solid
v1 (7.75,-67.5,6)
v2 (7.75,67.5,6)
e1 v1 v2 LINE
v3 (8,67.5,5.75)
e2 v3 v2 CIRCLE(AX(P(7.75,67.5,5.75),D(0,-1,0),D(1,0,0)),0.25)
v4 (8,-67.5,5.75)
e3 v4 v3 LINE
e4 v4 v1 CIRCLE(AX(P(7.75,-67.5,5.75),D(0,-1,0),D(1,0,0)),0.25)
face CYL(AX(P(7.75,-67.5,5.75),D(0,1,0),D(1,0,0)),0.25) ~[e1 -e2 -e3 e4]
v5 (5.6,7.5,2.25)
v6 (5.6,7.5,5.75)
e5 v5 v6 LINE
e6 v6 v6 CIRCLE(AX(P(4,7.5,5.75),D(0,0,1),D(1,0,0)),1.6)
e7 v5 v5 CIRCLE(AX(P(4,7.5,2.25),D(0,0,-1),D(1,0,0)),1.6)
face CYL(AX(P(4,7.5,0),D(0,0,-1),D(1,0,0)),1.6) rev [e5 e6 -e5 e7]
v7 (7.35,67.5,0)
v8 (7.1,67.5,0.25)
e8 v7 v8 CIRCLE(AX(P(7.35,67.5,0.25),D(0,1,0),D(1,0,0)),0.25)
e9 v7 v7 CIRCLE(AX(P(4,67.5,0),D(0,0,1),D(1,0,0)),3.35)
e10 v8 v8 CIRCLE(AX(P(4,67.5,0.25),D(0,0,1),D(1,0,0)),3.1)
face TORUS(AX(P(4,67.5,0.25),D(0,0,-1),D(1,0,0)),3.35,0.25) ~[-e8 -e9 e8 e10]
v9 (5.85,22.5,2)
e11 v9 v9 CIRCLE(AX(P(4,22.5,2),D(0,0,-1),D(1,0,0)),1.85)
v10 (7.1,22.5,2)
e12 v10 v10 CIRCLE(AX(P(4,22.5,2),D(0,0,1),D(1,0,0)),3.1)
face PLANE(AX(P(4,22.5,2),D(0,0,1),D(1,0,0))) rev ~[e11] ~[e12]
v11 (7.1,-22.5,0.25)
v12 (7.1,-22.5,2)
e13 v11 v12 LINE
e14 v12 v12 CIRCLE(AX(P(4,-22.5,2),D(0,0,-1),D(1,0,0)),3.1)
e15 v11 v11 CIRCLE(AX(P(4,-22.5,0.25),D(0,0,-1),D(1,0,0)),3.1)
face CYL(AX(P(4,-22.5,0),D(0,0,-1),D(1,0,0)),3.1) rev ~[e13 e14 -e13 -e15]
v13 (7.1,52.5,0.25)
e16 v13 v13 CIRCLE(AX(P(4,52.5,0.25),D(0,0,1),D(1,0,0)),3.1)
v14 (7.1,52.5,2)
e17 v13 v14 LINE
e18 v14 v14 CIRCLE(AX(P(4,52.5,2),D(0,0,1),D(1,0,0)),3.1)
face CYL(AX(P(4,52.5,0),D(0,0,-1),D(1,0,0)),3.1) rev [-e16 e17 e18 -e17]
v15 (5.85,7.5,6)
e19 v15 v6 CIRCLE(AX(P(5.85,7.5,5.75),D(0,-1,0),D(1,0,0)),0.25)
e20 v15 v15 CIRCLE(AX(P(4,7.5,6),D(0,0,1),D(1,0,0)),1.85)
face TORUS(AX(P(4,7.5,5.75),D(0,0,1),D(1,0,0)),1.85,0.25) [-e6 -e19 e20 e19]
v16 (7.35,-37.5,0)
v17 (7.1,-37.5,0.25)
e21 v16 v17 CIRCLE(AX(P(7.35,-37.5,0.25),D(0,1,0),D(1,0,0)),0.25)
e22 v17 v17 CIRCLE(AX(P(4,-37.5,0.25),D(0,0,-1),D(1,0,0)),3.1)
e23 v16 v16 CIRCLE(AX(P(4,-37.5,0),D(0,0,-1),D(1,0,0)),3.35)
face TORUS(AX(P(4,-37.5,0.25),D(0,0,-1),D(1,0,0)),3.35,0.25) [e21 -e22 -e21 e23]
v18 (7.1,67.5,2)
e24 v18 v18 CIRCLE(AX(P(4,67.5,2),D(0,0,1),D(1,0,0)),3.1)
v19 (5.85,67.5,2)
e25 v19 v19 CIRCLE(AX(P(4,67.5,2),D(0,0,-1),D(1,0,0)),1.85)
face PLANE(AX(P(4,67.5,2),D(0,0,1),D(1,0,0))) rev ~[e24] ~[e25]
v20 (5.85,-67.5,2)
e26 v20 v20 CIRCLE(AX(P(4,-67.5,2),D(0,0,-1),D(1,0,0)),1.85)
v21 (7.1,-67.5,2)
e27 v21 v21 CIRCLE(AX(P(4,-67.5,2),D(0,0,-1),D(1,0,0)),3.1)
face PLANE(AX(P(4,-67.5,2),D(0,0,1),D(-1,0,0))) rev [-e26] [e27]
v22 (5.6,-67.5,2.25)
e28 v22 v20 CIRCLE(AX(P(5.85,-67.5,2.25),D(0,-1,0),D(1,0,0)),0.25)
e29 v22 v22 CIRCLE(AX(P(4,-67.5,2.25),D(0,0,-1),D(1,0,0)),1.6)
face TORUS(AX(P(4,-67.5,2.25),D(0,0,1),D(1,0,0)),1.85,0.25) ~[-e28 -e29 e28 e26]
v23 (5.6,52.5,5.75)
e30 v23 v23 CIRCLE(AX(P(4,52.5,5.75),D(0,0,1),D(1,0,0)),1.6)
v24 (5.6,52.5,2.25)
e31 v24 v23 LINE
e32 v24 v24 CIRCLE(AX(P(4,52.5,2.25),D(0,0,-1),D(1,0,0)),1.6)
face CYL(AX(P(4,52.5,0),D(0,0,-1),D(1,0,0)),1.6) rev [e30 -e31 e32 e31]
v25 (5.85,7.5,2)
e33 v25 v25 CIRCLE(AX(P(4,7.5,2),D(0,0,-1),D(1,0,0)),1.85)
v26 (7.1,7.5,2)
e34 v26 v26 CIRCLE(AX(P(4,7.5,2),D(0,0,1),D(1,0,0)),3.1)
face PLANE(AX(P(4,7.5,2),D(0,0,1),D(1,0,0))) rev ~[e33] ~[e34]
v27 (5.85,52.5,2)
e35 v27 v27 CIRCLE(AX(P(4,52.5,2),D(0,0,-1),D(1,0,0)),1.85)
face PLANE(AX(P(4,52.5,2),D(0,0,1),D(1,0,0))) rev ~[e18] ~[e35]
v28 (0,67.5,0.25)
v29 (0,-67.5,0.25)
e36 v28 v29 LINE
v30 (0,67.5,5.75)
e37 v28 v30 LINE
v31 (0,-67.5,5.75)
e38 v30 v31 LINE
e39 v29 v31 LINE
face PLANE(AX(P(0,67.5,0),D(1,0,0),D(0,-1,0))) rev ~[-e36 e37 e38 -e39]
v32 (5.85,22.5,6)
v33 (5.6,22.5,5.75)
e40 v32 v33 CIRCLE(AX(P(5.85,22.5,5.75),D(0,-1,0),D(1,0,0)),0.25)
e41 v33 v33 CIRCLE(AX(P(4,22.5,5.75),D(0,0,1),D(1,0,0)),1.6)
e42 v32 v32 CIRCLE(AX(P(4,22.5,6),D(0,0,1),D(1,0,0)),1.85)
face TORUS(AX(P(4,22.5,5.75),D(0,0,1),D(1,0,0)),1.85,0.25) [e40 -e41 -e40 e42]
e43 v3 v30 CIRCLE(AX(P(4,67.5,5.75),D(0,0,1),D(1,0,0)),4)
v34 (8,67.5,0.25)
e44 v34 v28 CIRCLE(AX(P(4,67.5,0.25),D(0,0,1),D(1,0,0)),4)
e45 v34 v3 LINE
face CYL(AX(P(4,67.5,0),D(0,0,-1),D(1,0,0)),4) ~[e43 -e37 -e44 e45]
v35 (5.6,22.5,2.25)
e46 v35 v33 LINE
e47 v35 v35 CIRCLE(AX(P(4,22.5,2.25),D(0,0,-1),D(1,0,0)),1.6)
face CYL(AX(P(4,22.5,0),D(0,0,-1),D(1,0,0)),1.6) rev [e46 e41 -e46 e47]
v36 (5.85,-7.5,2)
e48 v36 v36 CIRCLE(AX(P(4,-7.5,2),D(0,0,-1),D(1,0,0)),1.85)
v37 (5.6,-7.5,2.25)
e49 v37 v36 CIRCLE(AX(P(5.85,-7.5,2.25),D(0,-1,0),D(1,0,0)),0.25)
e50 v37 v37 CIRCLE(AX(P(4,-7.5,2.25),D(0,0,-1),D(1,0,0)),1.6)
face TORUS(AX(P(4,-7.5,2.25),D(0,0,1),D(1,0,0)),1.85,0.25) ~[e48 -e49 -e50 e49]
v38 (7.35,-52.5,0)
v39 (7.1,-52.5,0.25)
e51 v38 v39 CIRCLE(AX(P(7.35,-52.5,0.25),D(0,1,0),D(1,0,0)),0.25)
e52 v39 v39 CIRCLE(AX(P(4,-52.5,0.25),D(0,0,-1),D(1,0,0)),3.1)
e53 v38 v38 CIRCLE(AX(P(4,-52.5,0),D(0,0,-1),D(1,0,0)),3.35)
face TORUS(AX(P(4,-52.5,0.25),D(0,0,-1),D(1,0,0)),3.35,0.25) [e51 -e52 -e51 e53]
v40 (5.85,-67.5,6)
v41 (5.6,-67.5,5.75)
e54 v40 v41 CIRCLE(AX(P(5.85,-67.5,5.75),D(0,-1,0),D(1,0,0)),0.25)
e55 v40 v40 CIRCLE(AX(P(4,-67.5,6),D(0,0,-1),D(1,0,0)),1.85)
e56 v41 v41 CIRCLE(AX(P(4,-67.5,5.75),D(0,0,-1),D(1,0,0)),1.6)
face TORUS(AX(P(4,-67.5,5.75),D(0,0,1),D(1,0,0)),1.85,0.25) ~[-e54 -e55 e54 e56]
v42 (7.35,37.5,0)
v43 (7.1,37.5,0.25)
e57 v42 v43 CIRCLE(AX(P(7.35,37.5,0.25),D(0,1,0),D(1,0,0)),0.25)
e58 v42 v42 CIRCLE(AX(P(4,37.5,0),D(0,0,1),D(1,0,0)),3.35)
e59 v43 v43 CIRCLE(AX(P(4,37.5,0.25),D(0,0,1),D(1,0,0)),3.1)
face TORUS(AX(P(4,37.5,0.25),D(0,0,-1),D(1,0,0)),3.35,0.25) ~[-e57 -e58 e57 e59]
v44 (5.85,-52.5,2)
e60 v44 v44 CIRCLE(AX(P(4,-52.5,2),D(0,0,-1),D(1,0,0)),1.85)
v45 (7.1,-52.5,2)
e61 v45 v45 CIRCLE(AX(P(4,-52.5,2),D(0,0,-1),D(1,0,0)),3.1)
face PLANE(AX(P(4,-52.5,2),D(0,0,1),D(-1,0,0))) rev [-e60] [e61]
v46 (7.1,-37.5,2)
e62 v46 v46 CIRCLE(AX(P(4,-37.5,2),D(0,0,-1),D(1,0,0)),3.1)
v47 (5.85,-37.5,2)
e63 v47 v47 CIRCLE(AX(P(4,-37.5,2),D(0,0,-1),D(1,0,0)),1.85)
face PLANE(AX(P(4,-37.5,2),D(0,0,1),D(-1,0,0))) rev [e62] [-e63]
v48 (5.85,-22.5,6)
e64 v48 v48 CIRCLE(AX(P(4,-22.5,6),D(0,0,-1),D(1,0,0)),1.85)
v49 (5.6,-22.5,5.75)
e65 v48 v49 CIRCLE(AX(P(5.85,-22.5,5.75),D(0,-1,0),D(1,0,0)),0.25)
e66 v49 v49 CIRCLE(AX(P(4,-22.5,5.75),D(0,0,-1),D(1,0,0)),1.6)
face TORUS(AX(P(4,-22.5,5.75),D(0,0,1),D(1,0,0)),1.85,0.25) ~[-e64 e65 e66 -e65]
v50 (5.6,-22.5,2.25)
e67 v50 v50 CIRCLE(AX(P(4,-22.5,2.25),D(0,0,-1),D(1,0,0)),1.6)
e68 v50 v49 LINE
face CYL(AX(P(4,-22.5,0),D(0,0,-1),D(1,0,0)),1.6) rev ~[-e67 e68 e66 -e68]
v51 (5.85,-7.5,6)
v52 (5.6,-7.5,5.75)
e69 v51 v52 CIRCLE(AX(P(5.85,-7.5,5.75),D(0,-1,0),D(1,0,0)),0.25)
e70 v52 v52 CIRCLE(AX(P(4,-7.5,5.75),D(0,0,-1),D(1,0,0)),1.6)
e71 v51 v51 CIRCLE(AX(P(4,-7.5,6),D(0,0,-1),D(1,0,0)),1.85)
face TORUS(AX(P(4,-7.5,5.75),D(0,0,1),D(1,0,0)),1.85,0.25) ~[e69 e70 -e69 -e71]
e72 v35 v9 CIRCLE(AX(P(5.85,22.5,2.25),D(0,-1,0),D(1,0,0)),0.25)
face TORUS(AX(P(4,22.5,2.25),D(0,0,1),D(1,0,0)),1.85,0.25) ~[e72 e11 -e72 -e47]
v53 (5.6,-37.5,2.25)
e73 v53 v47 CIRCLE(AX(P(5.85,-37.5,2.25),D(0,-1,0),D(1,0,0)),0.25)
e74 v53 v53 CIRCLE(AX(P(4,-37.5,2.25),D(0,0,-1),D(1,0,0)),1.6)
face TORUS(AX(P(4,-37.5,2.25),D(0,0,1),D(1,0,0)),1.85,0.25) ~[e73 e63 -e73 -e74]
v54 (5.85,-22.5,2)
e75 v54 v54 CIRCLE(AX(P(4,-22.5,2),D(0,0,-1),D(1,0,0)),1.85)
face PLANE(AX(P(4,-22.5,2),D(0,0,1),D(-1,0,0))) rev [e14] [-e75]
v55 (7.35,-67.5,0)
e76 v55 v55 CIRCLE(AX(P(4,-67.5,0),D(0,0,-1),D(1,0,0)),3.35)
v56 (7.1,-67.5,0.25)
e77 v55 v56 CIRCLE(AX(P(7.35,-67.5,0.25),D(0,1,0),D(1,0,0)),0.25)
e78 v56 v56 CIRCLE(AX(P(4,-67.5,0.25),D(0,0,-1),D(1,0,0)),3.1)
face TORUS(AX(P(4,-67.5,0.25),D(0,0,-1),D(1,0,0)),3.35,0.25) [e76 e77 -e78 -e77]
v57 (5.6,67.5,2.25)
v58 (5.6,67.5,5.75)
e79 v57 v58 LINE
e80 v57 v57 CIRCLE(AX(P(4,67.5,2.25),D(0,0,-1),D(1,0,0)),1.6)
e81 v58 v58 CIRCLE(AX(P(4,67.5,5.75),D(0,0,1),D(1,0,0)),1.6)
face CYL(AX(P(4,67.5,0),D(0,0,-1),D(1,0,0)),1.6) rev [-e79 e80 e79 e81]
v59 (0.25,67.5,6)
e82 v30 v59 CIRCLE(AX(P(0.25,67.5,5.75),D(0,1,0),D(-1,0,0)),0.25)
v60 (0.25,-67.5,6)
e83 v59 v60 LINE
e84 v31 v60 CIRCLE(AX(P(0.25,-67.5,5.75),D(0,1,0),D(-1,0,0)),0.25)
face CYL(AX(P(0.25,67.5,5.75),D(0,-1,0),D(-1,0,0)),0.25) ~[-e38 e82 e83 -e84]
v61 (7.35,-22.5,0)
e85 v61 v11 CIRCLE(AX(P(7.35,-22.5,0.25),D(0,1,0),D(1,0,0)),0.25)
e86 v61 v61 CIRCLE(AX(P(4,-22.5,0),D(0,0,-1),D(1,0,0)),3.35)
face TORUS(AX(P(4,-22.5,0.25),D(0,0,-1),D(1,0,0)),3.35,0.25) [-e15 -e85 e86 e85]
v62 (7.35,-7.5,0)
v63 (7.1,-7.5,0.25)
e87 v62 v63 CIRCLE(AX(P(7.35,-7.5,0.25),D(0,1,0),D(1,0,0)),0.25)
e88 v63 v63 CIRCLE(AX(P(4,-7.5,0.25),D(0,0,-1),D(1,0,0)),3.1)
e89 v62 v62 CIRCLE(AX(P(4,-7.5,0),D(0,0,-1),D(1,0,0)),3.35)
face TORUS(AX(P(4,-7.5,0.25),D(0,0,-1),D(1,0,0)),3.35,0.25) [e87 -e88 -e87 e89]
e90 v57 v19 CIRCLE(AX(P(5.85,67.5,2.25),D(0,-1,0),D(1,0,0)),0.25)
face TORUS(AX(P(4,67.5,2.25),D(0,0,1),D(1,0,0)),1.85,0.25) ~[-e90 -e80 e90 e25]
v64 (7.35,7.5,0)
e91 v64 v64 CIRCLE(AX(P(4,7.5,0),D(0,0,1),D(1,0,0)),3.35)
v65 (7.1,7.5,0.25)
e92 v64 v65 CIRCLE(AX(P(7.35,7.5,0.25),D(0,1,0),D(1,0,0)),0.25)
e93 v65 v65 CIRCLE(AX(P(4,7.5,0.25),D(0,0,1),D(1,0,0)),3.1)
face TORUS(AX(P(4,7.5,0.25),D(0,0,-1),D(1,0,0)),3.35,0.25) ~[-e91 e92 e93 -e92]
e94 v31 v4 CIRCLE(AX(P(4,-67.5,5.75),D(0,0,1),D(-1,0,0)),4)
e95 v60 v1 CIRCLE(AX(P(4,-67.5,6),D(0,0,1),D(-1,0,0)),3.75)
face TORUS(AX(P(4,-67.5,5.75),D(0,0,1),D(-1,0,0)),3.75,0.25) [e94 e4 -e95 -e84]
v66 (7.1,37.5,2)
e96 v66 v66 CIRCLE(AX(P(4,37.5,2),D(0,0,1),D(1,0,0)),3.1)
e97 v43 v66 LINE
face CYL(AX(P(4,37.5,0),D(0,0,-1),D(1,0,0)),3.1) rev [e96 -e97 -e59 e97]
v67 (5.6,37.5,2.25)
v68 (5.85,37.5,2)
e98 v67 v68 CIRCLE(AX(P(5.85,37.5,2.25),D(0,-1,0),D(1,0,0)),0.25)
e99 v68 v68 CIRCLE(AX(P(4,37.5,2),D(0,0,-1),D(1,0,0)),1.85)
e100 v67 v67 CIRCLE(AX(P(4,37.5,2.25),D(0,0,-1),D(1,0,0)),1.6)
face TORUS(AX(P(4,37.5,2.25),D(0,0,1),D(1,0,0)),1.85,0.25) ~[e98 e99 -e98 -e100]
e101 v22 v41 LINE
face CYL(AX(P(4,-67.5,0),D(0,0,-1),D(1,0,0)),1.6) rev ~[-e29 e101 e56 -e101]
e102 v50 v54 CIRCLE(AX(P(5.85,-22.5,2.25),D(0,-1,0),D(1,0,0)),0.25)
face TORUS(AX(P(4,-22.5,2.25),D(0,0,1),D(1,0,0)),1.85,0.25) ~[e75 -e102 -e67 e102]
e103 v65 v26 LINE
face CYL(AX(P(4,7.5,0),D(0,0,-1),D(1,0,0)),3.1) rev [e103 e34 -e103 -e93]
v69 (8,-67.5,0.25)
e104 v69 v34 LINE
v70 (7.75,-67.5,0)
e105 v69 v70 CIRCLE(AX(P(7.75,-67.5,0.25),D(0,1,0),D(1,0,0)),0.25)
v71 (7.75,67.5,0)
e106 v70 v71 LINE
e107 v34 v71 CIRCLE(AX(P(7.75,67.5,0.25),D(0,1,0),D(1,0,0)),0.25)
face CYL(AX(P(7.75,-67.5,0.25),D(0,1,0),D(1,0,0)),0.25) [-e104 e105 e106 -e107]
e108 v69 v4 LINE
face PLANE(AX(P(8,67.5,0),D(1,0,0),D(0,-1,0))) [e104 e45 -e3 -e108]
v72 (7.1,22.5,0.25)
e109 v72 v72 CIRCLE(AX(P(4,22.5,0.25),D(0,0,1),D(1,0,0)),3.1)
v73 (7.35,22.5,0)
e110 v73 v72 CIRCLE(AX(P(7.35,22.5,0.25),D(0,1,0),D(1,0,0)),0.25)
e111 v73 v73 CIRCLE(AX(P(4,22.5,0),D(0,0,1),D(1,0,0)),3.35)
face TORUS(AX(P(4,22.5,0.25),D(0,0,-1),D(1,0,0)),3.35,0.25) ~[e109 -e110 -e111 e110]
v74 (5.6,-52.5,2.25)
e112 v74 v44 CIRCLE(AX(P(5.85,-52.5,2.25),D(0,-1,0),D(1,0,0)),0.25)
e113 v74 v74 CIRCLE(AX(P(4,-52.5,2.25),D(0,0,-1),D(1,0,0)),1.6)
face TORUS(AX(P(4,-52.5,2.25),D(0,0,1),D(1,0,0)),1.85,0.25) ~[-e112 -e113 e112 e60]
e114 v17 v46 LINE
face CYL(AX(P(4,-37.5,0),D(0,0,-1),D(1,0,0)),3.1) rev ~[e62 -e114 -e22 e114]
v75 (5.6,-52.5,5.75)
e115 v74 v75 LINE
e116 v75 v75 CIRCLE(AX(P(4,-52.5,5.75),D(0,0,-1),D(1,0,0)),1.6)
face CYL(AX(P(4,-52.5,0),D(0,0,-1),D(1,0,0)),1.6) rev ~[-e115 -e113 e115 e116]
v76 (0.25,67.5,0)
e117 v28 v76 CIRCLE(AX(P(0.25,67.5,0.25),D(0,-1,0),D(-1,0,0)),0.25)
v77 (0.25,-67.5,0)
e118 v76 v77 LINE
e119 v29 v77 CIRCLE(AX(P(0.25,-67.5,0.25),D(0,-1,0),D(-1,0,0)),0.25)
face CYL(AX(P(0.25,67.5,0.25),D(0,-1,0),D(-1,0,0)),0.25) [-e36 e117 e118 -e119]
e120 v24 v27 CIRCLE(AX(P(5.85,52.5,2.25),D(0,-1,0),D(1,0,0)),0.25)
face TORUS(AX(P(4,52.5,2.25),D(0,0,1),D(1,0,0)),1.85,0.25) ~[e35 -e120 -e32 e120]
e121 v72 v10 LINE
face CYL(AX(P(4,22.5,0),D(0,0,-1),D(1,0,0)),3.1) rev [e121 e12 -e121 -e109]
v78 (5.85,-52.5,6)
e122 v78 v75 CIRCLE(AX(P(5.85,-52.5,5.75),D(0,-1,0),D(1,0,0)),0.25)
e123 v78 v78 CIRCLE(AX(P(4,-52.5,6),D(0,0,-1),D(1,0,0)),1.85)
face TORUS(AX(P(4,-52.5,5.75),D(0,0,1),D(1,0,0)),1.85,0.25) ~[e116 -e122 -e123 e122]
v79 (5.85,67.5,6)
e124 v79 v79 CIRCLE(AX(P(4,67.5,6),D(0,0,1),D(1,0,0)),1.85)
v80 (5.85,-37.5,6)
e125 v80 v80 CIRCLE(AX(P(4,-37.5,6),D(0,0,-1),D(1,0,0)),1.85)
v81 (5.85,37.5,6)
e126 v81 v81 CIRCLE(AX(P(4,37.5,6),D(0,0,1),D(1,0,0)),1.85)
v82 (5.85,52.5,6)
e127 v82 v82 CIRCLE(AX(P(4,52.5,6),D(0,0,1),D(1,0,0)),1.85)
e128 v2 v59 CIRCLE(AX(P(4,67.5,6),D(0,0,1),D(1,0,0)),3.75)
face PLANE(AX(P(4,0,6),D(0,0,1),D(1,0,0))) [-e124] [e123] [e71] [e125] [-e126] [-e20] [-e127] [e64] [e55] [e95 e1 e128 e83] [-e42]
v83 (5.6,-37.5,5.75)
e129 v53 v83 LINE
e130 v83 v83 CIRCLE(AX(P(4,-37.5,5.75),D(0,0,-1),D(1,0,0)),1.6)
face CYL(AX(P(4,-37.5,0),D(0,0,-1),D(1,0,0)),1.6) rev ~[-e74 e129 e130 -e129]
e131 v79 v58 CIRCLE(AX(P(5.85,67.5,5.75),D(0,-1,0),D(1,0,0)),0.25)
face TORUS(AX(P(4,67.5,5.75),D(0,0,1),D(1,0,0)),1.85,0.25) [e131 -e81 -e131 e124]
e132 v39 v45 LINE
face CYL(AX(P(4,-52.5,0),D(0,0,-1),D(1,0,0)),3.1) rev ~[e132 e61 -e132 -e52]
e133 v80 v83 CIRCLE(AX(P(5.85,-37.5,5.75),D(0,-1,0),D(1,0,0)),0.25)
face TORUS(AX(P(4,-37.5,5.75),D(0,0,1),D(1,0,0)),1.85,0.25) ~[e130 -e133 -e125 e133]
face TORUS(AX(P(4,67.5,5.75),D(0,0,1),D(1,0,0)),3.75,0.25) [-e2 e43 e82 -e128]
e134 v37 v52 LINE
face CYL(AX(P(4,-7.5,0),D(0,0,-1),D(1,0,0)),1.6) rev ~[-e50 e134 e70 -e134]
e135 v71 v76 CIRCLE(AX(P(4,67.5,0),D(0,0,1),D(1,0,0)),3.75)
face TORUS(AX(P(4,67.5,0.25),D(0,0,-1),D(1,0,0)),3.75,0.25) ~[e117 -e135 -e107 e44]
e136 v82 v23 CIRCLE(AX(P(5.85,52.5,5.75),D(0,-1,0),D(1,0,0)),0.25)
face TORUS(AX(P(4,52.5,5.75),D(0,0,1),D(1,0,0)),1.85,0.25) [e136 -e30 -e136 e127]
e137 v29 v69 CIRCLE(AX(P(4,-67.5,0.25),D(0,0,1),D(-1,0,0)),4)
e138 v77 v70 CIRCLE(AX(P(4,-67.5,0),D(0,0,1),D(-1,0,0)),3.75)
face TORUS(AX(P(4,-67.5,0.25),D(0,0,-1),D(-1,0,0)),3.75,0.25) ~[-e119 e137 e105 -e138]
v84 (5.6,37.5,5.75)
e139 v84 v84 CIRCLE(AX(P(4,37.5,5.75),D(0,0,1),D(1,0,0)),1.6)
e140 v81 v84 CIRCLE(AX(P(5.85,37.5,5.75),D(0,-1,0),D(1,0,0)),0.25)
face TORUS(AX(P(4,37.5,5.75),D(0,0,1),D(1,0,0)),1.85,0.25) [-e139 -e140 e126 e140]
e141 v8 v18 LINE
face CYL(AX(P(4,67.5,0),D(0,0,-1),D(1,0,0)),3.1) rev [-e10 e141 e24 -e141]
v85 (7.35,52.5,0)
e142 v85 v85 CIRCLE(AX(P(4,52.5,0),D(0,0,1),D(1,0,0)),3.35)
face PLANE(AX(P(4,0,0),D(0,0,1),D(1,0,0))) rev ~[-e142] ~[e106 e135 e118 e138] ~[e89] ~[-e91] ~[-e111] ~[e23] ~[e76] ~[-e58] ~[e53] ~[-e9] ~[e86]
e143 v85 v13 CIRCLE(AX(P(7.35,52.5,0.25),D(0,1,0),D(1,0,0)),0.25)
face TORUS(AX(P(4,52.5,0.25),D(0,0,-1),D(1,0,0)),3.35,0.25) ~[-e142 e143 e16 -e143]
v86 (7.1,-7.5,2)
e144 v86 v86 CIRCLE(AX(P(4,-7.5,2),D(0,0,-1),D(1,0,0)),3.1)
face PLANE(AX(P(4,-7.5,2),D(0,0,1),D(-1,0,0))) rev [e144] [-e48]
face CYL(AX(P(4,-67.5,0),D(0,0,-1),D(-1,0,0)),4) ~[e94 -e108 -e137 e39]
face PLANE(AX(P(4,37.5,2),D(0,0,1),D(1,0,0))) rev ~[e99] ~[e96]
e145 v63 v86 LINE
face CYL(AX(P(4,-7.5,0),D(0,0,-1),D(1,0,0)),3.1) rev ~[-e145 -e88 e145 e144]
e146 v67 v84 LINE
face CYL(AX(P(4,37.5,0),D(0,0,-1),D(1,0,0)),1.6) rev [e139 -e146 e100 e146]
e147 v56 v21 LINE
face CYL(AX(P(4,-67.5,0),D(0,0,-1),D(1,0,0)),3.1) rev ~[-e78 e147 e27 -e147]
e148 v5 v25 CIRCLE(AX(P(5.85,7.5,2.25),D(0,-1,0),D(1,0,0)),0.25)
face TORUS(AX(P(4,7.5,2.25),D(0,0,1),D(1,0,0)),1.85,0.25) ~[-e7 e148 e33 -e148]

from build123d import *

# Parameters (mm, degrees)
PAD_DEPTH                          = 6
SKETCH001_R                        = 1.6
POCKET_DEPTH                       = 6
SKETCH002_R                        = 3.1
POCKET001_DEPTH                    = 2
SKETCH001_LINEARPATTERN_2_R        = 1.6
POCKET_LINEARPATTERN_2_DEPTH       = 6
SKETCH001_LINEARPATTERN_3_R        = 1.6
POCKET_LINEARPATTERN_3_DEPTH       = 6
SKETCH001_LINEARPATTERN_4_R        = 1.6
POCKET_LINEARPATTERN_4_DEPTH       = 6
SKETCH001_LINEARPATTERN_5_R        = 1.6
POCKET_LINEARPATTERN_5_DEPTH       = 6
SKETCH002_LINEARPATTERN001_2_R     = 3.1
POCKET001_LINEARPATTERN001_2_DEPTH = 2
SKETCH002_LINEARPATTERN001_3_R     = 3.1
POCKET001_LINEARPATTERN001_3_DEPTH = 2
SKETCH002_LINEARPATTERN001_4_R     = 3.1
POCKET001_LINEARPATTERN001_4_DEPTH = 2
SKETCH002_LINEARPATTERN001_5_R     = 3.1
POCKET001_LINEARPATTERN001_5_DEPTH = 2
FILLET_R                           = 0.25


with BuildPart() as part:
    # Sketch → Pad (new body)
    with BuildSketch(Plane.XY):
        with BuildLine():
            Line((0, 67.5), (0, -67.5))
            ThreePointArc((0, -67.5), (4, -71.5), (8, -67.5))
            Line((8, 67.5), (8, -67.5))
            ThreePointArc((8, 67.5), (4, 71.5), (0, 67.5))
        make_face()
    extrude(amount=PAD_DEPTH)

    # Sketch001 → Pocket (cut)
    with BuildSketch(Plane.XY):
        with Locations((4, 7.5)):
            Circle(SKETCH001_R)
    pocket = extrude(amount=POCKET_DEPTH, mode=Mode.SUBTRACT)

    # Sketch002 → Pocket001 (cut)
    with BuildSketch(Plane.XY):
        with Locations((4, 7.5)):
            Circle(SKETCH002_R)
    pocket001 = extrude(amount=POCKET001_DEPTH, mode=Mode.SUBTRACT)

    # Sketch001 LinearPattern 2 → Pocket LinearPattern 2 (cut)
    with BuildSketch(Plane(origin=(0, 15, 0), x_dir=(1, 0, 0), z_dir=(0, 0, 1))):
        with Locations((4, 7.5)):
            Circle(SKETCH001_LINEARPATTERN_2_R)
    pocket_linearpattern_2 = extrude(amount=POCKET_LINEARPATTERN_2_DEPTH, mode=Mode.SUBTRACT)

    # Sketch001 LinearPattern 3 → Pocket LinearPattern 3 (cut)
    with BuildSketch(Plane(origin=(0, 30, 0), x_dir=(1, 0, 0), z_dir=(0, 0, 1))):
        with Locations((4, 7.5)):
            Circle(SKETCH001_LINEARPATTERN_3_R)
    pocket_linearpattern_3 = extrude(amount=POCKET_LINEARPATTERN_3_DEPTH, mode=Mode.SUBTRACT)

    # Sketch001 LinearPattern 4 → Pocket LinearPattern 4 (cut)
    with BuildSketch(Plane(origin=(0, 45, 0), x_dir=(1, 0, 0), z_dir=(0, 0, 1))):
        with Locations((4, 7.5)):
            Circle(SKETCH001_LINEARPATTERN_4_R)
    pocket_linearpattern_4 = extrude(amount=POCKET_LINEARPATTERN_4_DEPTH, mode=Mode.SUBTRACT)

    # Sketch001 LinearPattern 5 → Pocket LinearPattern 5 (cut)
    with BuildSketch(Plane(origin=(0, 60, 0), x_dir=(1, 0, 0), z_dir=(0, 0, 1))):
        with Locations((4, 7.5)):
            Circle(SKETCH001_LINEARPATTERN_5_R)
    pocket_linearpattern_5 = extrude(amount=POCKET_LINEARPATTERN_5_DEPTH, mode=Mode.SUBTRACT)

    # Mirrored: Pocket, Pocket LinearPattern 2, Pocket LinearPattern 3, Pocket LinearPattern 4, Pocket LinearPattern 5 across XZ
    add(pocket.mirror(Plane.XZ), mode=Mode.SUBTRACT)
    add(pocket_linearpattern_2.mirror(Plane.XZ), mode=Mode.SUBTRACT)
    add(pocket_linearpattern_3.mirror(Plane.XZ), mode=Mode.SUBTRACT)
    add(pocket_linearpattern_4.mirror(Plane.XZ), mode=Mode.SUBTRACT)
    add(pocket_linearpattern_5.mirror(Plane.XZ), mode=Mode.SUBTRACT)

    # Sketch002 LinearPattern001 2 → Pocket001 LinearPattern001 2 (cut)
    with BuildSketch(Plane(origin=(0, 15, 0), x_dir=(1, 0, 0), z_dir=(0, 0, 1))):
        with Locations((4, 7.5)):
            Circle(SKETCH002_LINEARPATTERN001_2_R)
    pocket001_linearpattern001_2 = extrude(amount=POCKET001_LINEARPATTERN001_2_DEPTH, mode=Mode.SUBTRACT)

    # Sketch002 LinearPattern001 3 → Pocket001 LinearPattern001 3 (cut)
    with BuildSketch(Plane(origin=(0, 30, 0), x_dir=(1, 0, 0), z_dir=(0, 0, 1))):
        with Locations((4, 7.5)):
            Circle(SKETCH002_LINEARPATTERN001_3_R)
    pocket001_linearpattern001_3 = extrude(amount=POCKET001_LINEARPATTERN001_3_DEPTH, mode=Mode.SUBTRACT)

    # Sketch002 LinearPattern001 4 → Pocket001 LinearPattern001 4 (cut)
    with BuildSketch(Plane(origin=(0, 45, 0), x_dir=(1, 0, 0), z_dir=(0, 0, 1))):
        with Locations((4, 7.5)):
            Circle(SKETCH002_LINEARPATTERN001_4_R)
    pocket001_linearpattern001_4 = extrude(amount=POCKET001_LINEARPATTERN001_4_DEPTH, mode=Mode.SUBTRACT)

    # Sketch002 LinearPattern001 5 → Pocket001 LinearPattern001 5 (cut)
    with BuildSketch(Plane(origin=(0, 60, 0), x_dir=(1, 0, 0), z_dir=(0, 0, 1))):
        with Locations((4, 7.5)):
            Circle(SKETCH002_LINEARPATTERN001_5_R)
    pocket001_linearpattern001_5 = extrude(amount=POCKET001_LINEARPATTERN001_5_DEPTH, mode=Mode.SUBTRACT)

    # Mirrored001: Pocket001, Pocket001 LinearPattern001 2, Pocket001 LinearPattern001 3, Pocket001 LinearPattern001 4, Pocket001 LinearPattern001 5 across XZ
    add(pocket001.mirror(Plane.XZ), mode=Mode.SUBTRACT)
    add(pocket001_linearpattern001_2.mirror(Plane.XZ), mode=Mode.SUBTRACT)
    add(pocket001_linearpattern001_3.mirror(Plane.XZ), mode=Mode.SUBTRACT)
    add(pocket001_linearpattern001_4.mirror(Plane.XZ), mode=Mode.SUBTRACT)
    add(pocket001_linearpattern001_5.mirror(Plane.XZ), mode=Mode.SUBTRACT)

    # Fillet
    fillet_edges = [part.edges().sort_by_distance(p)[0] for p in [
        (4, -71.5, 0),
        (8, 0, 0),
        (0, 0, 0),
        (4, 71.5, 0),
        (4, 71.5, 6),
        (0, 0, 6),
        (8, 0, 6),
        (4, -71.5, 6),
        (2.4, -67.5, 6),
        (2.4, -52.5, 6),
        (2.4, -22.5, 6),
        (2.4, -7.5, 6),
        (2.4, -37.5, 6),
        (2.4, 7.5, 6),
        (2.4, 22.5, 6),
        (2.4, 37.5, 6),
        (2.4, 52.5, 6),
        (2.4, 67.5, 6),
        (0.9, 37.5, 0),
        (2.4, -67.5, 2),
        (0.9, -67.5, 0),
        (2.4, -52.5, 2),
        (0.9, 67.5, 0),
        (2.4, -22.5, 2),
        (0.9, -37.5, 0),
        (2.4, -7.5, 2),
        (0.9, -22.5, 0),
        (2.4, -37.5, 2),
        (0.9, 52.5, 0),
        (2.4, 7.5, 2),
        (0.9, -52.5, 0),
        (2.4, 22.5, 2),
        (0.9, -7.5, 0),
        (2.4, 37.5, 2),
        (0.9, 22.5, 0),
        (2.4, 52.5, 2),
        (0.9, 7.5, 0),
        (2.4, 67.5, 2),
    ]]
    fillet(fillet_edges, radius=FILLET_R)


solid = part.part
